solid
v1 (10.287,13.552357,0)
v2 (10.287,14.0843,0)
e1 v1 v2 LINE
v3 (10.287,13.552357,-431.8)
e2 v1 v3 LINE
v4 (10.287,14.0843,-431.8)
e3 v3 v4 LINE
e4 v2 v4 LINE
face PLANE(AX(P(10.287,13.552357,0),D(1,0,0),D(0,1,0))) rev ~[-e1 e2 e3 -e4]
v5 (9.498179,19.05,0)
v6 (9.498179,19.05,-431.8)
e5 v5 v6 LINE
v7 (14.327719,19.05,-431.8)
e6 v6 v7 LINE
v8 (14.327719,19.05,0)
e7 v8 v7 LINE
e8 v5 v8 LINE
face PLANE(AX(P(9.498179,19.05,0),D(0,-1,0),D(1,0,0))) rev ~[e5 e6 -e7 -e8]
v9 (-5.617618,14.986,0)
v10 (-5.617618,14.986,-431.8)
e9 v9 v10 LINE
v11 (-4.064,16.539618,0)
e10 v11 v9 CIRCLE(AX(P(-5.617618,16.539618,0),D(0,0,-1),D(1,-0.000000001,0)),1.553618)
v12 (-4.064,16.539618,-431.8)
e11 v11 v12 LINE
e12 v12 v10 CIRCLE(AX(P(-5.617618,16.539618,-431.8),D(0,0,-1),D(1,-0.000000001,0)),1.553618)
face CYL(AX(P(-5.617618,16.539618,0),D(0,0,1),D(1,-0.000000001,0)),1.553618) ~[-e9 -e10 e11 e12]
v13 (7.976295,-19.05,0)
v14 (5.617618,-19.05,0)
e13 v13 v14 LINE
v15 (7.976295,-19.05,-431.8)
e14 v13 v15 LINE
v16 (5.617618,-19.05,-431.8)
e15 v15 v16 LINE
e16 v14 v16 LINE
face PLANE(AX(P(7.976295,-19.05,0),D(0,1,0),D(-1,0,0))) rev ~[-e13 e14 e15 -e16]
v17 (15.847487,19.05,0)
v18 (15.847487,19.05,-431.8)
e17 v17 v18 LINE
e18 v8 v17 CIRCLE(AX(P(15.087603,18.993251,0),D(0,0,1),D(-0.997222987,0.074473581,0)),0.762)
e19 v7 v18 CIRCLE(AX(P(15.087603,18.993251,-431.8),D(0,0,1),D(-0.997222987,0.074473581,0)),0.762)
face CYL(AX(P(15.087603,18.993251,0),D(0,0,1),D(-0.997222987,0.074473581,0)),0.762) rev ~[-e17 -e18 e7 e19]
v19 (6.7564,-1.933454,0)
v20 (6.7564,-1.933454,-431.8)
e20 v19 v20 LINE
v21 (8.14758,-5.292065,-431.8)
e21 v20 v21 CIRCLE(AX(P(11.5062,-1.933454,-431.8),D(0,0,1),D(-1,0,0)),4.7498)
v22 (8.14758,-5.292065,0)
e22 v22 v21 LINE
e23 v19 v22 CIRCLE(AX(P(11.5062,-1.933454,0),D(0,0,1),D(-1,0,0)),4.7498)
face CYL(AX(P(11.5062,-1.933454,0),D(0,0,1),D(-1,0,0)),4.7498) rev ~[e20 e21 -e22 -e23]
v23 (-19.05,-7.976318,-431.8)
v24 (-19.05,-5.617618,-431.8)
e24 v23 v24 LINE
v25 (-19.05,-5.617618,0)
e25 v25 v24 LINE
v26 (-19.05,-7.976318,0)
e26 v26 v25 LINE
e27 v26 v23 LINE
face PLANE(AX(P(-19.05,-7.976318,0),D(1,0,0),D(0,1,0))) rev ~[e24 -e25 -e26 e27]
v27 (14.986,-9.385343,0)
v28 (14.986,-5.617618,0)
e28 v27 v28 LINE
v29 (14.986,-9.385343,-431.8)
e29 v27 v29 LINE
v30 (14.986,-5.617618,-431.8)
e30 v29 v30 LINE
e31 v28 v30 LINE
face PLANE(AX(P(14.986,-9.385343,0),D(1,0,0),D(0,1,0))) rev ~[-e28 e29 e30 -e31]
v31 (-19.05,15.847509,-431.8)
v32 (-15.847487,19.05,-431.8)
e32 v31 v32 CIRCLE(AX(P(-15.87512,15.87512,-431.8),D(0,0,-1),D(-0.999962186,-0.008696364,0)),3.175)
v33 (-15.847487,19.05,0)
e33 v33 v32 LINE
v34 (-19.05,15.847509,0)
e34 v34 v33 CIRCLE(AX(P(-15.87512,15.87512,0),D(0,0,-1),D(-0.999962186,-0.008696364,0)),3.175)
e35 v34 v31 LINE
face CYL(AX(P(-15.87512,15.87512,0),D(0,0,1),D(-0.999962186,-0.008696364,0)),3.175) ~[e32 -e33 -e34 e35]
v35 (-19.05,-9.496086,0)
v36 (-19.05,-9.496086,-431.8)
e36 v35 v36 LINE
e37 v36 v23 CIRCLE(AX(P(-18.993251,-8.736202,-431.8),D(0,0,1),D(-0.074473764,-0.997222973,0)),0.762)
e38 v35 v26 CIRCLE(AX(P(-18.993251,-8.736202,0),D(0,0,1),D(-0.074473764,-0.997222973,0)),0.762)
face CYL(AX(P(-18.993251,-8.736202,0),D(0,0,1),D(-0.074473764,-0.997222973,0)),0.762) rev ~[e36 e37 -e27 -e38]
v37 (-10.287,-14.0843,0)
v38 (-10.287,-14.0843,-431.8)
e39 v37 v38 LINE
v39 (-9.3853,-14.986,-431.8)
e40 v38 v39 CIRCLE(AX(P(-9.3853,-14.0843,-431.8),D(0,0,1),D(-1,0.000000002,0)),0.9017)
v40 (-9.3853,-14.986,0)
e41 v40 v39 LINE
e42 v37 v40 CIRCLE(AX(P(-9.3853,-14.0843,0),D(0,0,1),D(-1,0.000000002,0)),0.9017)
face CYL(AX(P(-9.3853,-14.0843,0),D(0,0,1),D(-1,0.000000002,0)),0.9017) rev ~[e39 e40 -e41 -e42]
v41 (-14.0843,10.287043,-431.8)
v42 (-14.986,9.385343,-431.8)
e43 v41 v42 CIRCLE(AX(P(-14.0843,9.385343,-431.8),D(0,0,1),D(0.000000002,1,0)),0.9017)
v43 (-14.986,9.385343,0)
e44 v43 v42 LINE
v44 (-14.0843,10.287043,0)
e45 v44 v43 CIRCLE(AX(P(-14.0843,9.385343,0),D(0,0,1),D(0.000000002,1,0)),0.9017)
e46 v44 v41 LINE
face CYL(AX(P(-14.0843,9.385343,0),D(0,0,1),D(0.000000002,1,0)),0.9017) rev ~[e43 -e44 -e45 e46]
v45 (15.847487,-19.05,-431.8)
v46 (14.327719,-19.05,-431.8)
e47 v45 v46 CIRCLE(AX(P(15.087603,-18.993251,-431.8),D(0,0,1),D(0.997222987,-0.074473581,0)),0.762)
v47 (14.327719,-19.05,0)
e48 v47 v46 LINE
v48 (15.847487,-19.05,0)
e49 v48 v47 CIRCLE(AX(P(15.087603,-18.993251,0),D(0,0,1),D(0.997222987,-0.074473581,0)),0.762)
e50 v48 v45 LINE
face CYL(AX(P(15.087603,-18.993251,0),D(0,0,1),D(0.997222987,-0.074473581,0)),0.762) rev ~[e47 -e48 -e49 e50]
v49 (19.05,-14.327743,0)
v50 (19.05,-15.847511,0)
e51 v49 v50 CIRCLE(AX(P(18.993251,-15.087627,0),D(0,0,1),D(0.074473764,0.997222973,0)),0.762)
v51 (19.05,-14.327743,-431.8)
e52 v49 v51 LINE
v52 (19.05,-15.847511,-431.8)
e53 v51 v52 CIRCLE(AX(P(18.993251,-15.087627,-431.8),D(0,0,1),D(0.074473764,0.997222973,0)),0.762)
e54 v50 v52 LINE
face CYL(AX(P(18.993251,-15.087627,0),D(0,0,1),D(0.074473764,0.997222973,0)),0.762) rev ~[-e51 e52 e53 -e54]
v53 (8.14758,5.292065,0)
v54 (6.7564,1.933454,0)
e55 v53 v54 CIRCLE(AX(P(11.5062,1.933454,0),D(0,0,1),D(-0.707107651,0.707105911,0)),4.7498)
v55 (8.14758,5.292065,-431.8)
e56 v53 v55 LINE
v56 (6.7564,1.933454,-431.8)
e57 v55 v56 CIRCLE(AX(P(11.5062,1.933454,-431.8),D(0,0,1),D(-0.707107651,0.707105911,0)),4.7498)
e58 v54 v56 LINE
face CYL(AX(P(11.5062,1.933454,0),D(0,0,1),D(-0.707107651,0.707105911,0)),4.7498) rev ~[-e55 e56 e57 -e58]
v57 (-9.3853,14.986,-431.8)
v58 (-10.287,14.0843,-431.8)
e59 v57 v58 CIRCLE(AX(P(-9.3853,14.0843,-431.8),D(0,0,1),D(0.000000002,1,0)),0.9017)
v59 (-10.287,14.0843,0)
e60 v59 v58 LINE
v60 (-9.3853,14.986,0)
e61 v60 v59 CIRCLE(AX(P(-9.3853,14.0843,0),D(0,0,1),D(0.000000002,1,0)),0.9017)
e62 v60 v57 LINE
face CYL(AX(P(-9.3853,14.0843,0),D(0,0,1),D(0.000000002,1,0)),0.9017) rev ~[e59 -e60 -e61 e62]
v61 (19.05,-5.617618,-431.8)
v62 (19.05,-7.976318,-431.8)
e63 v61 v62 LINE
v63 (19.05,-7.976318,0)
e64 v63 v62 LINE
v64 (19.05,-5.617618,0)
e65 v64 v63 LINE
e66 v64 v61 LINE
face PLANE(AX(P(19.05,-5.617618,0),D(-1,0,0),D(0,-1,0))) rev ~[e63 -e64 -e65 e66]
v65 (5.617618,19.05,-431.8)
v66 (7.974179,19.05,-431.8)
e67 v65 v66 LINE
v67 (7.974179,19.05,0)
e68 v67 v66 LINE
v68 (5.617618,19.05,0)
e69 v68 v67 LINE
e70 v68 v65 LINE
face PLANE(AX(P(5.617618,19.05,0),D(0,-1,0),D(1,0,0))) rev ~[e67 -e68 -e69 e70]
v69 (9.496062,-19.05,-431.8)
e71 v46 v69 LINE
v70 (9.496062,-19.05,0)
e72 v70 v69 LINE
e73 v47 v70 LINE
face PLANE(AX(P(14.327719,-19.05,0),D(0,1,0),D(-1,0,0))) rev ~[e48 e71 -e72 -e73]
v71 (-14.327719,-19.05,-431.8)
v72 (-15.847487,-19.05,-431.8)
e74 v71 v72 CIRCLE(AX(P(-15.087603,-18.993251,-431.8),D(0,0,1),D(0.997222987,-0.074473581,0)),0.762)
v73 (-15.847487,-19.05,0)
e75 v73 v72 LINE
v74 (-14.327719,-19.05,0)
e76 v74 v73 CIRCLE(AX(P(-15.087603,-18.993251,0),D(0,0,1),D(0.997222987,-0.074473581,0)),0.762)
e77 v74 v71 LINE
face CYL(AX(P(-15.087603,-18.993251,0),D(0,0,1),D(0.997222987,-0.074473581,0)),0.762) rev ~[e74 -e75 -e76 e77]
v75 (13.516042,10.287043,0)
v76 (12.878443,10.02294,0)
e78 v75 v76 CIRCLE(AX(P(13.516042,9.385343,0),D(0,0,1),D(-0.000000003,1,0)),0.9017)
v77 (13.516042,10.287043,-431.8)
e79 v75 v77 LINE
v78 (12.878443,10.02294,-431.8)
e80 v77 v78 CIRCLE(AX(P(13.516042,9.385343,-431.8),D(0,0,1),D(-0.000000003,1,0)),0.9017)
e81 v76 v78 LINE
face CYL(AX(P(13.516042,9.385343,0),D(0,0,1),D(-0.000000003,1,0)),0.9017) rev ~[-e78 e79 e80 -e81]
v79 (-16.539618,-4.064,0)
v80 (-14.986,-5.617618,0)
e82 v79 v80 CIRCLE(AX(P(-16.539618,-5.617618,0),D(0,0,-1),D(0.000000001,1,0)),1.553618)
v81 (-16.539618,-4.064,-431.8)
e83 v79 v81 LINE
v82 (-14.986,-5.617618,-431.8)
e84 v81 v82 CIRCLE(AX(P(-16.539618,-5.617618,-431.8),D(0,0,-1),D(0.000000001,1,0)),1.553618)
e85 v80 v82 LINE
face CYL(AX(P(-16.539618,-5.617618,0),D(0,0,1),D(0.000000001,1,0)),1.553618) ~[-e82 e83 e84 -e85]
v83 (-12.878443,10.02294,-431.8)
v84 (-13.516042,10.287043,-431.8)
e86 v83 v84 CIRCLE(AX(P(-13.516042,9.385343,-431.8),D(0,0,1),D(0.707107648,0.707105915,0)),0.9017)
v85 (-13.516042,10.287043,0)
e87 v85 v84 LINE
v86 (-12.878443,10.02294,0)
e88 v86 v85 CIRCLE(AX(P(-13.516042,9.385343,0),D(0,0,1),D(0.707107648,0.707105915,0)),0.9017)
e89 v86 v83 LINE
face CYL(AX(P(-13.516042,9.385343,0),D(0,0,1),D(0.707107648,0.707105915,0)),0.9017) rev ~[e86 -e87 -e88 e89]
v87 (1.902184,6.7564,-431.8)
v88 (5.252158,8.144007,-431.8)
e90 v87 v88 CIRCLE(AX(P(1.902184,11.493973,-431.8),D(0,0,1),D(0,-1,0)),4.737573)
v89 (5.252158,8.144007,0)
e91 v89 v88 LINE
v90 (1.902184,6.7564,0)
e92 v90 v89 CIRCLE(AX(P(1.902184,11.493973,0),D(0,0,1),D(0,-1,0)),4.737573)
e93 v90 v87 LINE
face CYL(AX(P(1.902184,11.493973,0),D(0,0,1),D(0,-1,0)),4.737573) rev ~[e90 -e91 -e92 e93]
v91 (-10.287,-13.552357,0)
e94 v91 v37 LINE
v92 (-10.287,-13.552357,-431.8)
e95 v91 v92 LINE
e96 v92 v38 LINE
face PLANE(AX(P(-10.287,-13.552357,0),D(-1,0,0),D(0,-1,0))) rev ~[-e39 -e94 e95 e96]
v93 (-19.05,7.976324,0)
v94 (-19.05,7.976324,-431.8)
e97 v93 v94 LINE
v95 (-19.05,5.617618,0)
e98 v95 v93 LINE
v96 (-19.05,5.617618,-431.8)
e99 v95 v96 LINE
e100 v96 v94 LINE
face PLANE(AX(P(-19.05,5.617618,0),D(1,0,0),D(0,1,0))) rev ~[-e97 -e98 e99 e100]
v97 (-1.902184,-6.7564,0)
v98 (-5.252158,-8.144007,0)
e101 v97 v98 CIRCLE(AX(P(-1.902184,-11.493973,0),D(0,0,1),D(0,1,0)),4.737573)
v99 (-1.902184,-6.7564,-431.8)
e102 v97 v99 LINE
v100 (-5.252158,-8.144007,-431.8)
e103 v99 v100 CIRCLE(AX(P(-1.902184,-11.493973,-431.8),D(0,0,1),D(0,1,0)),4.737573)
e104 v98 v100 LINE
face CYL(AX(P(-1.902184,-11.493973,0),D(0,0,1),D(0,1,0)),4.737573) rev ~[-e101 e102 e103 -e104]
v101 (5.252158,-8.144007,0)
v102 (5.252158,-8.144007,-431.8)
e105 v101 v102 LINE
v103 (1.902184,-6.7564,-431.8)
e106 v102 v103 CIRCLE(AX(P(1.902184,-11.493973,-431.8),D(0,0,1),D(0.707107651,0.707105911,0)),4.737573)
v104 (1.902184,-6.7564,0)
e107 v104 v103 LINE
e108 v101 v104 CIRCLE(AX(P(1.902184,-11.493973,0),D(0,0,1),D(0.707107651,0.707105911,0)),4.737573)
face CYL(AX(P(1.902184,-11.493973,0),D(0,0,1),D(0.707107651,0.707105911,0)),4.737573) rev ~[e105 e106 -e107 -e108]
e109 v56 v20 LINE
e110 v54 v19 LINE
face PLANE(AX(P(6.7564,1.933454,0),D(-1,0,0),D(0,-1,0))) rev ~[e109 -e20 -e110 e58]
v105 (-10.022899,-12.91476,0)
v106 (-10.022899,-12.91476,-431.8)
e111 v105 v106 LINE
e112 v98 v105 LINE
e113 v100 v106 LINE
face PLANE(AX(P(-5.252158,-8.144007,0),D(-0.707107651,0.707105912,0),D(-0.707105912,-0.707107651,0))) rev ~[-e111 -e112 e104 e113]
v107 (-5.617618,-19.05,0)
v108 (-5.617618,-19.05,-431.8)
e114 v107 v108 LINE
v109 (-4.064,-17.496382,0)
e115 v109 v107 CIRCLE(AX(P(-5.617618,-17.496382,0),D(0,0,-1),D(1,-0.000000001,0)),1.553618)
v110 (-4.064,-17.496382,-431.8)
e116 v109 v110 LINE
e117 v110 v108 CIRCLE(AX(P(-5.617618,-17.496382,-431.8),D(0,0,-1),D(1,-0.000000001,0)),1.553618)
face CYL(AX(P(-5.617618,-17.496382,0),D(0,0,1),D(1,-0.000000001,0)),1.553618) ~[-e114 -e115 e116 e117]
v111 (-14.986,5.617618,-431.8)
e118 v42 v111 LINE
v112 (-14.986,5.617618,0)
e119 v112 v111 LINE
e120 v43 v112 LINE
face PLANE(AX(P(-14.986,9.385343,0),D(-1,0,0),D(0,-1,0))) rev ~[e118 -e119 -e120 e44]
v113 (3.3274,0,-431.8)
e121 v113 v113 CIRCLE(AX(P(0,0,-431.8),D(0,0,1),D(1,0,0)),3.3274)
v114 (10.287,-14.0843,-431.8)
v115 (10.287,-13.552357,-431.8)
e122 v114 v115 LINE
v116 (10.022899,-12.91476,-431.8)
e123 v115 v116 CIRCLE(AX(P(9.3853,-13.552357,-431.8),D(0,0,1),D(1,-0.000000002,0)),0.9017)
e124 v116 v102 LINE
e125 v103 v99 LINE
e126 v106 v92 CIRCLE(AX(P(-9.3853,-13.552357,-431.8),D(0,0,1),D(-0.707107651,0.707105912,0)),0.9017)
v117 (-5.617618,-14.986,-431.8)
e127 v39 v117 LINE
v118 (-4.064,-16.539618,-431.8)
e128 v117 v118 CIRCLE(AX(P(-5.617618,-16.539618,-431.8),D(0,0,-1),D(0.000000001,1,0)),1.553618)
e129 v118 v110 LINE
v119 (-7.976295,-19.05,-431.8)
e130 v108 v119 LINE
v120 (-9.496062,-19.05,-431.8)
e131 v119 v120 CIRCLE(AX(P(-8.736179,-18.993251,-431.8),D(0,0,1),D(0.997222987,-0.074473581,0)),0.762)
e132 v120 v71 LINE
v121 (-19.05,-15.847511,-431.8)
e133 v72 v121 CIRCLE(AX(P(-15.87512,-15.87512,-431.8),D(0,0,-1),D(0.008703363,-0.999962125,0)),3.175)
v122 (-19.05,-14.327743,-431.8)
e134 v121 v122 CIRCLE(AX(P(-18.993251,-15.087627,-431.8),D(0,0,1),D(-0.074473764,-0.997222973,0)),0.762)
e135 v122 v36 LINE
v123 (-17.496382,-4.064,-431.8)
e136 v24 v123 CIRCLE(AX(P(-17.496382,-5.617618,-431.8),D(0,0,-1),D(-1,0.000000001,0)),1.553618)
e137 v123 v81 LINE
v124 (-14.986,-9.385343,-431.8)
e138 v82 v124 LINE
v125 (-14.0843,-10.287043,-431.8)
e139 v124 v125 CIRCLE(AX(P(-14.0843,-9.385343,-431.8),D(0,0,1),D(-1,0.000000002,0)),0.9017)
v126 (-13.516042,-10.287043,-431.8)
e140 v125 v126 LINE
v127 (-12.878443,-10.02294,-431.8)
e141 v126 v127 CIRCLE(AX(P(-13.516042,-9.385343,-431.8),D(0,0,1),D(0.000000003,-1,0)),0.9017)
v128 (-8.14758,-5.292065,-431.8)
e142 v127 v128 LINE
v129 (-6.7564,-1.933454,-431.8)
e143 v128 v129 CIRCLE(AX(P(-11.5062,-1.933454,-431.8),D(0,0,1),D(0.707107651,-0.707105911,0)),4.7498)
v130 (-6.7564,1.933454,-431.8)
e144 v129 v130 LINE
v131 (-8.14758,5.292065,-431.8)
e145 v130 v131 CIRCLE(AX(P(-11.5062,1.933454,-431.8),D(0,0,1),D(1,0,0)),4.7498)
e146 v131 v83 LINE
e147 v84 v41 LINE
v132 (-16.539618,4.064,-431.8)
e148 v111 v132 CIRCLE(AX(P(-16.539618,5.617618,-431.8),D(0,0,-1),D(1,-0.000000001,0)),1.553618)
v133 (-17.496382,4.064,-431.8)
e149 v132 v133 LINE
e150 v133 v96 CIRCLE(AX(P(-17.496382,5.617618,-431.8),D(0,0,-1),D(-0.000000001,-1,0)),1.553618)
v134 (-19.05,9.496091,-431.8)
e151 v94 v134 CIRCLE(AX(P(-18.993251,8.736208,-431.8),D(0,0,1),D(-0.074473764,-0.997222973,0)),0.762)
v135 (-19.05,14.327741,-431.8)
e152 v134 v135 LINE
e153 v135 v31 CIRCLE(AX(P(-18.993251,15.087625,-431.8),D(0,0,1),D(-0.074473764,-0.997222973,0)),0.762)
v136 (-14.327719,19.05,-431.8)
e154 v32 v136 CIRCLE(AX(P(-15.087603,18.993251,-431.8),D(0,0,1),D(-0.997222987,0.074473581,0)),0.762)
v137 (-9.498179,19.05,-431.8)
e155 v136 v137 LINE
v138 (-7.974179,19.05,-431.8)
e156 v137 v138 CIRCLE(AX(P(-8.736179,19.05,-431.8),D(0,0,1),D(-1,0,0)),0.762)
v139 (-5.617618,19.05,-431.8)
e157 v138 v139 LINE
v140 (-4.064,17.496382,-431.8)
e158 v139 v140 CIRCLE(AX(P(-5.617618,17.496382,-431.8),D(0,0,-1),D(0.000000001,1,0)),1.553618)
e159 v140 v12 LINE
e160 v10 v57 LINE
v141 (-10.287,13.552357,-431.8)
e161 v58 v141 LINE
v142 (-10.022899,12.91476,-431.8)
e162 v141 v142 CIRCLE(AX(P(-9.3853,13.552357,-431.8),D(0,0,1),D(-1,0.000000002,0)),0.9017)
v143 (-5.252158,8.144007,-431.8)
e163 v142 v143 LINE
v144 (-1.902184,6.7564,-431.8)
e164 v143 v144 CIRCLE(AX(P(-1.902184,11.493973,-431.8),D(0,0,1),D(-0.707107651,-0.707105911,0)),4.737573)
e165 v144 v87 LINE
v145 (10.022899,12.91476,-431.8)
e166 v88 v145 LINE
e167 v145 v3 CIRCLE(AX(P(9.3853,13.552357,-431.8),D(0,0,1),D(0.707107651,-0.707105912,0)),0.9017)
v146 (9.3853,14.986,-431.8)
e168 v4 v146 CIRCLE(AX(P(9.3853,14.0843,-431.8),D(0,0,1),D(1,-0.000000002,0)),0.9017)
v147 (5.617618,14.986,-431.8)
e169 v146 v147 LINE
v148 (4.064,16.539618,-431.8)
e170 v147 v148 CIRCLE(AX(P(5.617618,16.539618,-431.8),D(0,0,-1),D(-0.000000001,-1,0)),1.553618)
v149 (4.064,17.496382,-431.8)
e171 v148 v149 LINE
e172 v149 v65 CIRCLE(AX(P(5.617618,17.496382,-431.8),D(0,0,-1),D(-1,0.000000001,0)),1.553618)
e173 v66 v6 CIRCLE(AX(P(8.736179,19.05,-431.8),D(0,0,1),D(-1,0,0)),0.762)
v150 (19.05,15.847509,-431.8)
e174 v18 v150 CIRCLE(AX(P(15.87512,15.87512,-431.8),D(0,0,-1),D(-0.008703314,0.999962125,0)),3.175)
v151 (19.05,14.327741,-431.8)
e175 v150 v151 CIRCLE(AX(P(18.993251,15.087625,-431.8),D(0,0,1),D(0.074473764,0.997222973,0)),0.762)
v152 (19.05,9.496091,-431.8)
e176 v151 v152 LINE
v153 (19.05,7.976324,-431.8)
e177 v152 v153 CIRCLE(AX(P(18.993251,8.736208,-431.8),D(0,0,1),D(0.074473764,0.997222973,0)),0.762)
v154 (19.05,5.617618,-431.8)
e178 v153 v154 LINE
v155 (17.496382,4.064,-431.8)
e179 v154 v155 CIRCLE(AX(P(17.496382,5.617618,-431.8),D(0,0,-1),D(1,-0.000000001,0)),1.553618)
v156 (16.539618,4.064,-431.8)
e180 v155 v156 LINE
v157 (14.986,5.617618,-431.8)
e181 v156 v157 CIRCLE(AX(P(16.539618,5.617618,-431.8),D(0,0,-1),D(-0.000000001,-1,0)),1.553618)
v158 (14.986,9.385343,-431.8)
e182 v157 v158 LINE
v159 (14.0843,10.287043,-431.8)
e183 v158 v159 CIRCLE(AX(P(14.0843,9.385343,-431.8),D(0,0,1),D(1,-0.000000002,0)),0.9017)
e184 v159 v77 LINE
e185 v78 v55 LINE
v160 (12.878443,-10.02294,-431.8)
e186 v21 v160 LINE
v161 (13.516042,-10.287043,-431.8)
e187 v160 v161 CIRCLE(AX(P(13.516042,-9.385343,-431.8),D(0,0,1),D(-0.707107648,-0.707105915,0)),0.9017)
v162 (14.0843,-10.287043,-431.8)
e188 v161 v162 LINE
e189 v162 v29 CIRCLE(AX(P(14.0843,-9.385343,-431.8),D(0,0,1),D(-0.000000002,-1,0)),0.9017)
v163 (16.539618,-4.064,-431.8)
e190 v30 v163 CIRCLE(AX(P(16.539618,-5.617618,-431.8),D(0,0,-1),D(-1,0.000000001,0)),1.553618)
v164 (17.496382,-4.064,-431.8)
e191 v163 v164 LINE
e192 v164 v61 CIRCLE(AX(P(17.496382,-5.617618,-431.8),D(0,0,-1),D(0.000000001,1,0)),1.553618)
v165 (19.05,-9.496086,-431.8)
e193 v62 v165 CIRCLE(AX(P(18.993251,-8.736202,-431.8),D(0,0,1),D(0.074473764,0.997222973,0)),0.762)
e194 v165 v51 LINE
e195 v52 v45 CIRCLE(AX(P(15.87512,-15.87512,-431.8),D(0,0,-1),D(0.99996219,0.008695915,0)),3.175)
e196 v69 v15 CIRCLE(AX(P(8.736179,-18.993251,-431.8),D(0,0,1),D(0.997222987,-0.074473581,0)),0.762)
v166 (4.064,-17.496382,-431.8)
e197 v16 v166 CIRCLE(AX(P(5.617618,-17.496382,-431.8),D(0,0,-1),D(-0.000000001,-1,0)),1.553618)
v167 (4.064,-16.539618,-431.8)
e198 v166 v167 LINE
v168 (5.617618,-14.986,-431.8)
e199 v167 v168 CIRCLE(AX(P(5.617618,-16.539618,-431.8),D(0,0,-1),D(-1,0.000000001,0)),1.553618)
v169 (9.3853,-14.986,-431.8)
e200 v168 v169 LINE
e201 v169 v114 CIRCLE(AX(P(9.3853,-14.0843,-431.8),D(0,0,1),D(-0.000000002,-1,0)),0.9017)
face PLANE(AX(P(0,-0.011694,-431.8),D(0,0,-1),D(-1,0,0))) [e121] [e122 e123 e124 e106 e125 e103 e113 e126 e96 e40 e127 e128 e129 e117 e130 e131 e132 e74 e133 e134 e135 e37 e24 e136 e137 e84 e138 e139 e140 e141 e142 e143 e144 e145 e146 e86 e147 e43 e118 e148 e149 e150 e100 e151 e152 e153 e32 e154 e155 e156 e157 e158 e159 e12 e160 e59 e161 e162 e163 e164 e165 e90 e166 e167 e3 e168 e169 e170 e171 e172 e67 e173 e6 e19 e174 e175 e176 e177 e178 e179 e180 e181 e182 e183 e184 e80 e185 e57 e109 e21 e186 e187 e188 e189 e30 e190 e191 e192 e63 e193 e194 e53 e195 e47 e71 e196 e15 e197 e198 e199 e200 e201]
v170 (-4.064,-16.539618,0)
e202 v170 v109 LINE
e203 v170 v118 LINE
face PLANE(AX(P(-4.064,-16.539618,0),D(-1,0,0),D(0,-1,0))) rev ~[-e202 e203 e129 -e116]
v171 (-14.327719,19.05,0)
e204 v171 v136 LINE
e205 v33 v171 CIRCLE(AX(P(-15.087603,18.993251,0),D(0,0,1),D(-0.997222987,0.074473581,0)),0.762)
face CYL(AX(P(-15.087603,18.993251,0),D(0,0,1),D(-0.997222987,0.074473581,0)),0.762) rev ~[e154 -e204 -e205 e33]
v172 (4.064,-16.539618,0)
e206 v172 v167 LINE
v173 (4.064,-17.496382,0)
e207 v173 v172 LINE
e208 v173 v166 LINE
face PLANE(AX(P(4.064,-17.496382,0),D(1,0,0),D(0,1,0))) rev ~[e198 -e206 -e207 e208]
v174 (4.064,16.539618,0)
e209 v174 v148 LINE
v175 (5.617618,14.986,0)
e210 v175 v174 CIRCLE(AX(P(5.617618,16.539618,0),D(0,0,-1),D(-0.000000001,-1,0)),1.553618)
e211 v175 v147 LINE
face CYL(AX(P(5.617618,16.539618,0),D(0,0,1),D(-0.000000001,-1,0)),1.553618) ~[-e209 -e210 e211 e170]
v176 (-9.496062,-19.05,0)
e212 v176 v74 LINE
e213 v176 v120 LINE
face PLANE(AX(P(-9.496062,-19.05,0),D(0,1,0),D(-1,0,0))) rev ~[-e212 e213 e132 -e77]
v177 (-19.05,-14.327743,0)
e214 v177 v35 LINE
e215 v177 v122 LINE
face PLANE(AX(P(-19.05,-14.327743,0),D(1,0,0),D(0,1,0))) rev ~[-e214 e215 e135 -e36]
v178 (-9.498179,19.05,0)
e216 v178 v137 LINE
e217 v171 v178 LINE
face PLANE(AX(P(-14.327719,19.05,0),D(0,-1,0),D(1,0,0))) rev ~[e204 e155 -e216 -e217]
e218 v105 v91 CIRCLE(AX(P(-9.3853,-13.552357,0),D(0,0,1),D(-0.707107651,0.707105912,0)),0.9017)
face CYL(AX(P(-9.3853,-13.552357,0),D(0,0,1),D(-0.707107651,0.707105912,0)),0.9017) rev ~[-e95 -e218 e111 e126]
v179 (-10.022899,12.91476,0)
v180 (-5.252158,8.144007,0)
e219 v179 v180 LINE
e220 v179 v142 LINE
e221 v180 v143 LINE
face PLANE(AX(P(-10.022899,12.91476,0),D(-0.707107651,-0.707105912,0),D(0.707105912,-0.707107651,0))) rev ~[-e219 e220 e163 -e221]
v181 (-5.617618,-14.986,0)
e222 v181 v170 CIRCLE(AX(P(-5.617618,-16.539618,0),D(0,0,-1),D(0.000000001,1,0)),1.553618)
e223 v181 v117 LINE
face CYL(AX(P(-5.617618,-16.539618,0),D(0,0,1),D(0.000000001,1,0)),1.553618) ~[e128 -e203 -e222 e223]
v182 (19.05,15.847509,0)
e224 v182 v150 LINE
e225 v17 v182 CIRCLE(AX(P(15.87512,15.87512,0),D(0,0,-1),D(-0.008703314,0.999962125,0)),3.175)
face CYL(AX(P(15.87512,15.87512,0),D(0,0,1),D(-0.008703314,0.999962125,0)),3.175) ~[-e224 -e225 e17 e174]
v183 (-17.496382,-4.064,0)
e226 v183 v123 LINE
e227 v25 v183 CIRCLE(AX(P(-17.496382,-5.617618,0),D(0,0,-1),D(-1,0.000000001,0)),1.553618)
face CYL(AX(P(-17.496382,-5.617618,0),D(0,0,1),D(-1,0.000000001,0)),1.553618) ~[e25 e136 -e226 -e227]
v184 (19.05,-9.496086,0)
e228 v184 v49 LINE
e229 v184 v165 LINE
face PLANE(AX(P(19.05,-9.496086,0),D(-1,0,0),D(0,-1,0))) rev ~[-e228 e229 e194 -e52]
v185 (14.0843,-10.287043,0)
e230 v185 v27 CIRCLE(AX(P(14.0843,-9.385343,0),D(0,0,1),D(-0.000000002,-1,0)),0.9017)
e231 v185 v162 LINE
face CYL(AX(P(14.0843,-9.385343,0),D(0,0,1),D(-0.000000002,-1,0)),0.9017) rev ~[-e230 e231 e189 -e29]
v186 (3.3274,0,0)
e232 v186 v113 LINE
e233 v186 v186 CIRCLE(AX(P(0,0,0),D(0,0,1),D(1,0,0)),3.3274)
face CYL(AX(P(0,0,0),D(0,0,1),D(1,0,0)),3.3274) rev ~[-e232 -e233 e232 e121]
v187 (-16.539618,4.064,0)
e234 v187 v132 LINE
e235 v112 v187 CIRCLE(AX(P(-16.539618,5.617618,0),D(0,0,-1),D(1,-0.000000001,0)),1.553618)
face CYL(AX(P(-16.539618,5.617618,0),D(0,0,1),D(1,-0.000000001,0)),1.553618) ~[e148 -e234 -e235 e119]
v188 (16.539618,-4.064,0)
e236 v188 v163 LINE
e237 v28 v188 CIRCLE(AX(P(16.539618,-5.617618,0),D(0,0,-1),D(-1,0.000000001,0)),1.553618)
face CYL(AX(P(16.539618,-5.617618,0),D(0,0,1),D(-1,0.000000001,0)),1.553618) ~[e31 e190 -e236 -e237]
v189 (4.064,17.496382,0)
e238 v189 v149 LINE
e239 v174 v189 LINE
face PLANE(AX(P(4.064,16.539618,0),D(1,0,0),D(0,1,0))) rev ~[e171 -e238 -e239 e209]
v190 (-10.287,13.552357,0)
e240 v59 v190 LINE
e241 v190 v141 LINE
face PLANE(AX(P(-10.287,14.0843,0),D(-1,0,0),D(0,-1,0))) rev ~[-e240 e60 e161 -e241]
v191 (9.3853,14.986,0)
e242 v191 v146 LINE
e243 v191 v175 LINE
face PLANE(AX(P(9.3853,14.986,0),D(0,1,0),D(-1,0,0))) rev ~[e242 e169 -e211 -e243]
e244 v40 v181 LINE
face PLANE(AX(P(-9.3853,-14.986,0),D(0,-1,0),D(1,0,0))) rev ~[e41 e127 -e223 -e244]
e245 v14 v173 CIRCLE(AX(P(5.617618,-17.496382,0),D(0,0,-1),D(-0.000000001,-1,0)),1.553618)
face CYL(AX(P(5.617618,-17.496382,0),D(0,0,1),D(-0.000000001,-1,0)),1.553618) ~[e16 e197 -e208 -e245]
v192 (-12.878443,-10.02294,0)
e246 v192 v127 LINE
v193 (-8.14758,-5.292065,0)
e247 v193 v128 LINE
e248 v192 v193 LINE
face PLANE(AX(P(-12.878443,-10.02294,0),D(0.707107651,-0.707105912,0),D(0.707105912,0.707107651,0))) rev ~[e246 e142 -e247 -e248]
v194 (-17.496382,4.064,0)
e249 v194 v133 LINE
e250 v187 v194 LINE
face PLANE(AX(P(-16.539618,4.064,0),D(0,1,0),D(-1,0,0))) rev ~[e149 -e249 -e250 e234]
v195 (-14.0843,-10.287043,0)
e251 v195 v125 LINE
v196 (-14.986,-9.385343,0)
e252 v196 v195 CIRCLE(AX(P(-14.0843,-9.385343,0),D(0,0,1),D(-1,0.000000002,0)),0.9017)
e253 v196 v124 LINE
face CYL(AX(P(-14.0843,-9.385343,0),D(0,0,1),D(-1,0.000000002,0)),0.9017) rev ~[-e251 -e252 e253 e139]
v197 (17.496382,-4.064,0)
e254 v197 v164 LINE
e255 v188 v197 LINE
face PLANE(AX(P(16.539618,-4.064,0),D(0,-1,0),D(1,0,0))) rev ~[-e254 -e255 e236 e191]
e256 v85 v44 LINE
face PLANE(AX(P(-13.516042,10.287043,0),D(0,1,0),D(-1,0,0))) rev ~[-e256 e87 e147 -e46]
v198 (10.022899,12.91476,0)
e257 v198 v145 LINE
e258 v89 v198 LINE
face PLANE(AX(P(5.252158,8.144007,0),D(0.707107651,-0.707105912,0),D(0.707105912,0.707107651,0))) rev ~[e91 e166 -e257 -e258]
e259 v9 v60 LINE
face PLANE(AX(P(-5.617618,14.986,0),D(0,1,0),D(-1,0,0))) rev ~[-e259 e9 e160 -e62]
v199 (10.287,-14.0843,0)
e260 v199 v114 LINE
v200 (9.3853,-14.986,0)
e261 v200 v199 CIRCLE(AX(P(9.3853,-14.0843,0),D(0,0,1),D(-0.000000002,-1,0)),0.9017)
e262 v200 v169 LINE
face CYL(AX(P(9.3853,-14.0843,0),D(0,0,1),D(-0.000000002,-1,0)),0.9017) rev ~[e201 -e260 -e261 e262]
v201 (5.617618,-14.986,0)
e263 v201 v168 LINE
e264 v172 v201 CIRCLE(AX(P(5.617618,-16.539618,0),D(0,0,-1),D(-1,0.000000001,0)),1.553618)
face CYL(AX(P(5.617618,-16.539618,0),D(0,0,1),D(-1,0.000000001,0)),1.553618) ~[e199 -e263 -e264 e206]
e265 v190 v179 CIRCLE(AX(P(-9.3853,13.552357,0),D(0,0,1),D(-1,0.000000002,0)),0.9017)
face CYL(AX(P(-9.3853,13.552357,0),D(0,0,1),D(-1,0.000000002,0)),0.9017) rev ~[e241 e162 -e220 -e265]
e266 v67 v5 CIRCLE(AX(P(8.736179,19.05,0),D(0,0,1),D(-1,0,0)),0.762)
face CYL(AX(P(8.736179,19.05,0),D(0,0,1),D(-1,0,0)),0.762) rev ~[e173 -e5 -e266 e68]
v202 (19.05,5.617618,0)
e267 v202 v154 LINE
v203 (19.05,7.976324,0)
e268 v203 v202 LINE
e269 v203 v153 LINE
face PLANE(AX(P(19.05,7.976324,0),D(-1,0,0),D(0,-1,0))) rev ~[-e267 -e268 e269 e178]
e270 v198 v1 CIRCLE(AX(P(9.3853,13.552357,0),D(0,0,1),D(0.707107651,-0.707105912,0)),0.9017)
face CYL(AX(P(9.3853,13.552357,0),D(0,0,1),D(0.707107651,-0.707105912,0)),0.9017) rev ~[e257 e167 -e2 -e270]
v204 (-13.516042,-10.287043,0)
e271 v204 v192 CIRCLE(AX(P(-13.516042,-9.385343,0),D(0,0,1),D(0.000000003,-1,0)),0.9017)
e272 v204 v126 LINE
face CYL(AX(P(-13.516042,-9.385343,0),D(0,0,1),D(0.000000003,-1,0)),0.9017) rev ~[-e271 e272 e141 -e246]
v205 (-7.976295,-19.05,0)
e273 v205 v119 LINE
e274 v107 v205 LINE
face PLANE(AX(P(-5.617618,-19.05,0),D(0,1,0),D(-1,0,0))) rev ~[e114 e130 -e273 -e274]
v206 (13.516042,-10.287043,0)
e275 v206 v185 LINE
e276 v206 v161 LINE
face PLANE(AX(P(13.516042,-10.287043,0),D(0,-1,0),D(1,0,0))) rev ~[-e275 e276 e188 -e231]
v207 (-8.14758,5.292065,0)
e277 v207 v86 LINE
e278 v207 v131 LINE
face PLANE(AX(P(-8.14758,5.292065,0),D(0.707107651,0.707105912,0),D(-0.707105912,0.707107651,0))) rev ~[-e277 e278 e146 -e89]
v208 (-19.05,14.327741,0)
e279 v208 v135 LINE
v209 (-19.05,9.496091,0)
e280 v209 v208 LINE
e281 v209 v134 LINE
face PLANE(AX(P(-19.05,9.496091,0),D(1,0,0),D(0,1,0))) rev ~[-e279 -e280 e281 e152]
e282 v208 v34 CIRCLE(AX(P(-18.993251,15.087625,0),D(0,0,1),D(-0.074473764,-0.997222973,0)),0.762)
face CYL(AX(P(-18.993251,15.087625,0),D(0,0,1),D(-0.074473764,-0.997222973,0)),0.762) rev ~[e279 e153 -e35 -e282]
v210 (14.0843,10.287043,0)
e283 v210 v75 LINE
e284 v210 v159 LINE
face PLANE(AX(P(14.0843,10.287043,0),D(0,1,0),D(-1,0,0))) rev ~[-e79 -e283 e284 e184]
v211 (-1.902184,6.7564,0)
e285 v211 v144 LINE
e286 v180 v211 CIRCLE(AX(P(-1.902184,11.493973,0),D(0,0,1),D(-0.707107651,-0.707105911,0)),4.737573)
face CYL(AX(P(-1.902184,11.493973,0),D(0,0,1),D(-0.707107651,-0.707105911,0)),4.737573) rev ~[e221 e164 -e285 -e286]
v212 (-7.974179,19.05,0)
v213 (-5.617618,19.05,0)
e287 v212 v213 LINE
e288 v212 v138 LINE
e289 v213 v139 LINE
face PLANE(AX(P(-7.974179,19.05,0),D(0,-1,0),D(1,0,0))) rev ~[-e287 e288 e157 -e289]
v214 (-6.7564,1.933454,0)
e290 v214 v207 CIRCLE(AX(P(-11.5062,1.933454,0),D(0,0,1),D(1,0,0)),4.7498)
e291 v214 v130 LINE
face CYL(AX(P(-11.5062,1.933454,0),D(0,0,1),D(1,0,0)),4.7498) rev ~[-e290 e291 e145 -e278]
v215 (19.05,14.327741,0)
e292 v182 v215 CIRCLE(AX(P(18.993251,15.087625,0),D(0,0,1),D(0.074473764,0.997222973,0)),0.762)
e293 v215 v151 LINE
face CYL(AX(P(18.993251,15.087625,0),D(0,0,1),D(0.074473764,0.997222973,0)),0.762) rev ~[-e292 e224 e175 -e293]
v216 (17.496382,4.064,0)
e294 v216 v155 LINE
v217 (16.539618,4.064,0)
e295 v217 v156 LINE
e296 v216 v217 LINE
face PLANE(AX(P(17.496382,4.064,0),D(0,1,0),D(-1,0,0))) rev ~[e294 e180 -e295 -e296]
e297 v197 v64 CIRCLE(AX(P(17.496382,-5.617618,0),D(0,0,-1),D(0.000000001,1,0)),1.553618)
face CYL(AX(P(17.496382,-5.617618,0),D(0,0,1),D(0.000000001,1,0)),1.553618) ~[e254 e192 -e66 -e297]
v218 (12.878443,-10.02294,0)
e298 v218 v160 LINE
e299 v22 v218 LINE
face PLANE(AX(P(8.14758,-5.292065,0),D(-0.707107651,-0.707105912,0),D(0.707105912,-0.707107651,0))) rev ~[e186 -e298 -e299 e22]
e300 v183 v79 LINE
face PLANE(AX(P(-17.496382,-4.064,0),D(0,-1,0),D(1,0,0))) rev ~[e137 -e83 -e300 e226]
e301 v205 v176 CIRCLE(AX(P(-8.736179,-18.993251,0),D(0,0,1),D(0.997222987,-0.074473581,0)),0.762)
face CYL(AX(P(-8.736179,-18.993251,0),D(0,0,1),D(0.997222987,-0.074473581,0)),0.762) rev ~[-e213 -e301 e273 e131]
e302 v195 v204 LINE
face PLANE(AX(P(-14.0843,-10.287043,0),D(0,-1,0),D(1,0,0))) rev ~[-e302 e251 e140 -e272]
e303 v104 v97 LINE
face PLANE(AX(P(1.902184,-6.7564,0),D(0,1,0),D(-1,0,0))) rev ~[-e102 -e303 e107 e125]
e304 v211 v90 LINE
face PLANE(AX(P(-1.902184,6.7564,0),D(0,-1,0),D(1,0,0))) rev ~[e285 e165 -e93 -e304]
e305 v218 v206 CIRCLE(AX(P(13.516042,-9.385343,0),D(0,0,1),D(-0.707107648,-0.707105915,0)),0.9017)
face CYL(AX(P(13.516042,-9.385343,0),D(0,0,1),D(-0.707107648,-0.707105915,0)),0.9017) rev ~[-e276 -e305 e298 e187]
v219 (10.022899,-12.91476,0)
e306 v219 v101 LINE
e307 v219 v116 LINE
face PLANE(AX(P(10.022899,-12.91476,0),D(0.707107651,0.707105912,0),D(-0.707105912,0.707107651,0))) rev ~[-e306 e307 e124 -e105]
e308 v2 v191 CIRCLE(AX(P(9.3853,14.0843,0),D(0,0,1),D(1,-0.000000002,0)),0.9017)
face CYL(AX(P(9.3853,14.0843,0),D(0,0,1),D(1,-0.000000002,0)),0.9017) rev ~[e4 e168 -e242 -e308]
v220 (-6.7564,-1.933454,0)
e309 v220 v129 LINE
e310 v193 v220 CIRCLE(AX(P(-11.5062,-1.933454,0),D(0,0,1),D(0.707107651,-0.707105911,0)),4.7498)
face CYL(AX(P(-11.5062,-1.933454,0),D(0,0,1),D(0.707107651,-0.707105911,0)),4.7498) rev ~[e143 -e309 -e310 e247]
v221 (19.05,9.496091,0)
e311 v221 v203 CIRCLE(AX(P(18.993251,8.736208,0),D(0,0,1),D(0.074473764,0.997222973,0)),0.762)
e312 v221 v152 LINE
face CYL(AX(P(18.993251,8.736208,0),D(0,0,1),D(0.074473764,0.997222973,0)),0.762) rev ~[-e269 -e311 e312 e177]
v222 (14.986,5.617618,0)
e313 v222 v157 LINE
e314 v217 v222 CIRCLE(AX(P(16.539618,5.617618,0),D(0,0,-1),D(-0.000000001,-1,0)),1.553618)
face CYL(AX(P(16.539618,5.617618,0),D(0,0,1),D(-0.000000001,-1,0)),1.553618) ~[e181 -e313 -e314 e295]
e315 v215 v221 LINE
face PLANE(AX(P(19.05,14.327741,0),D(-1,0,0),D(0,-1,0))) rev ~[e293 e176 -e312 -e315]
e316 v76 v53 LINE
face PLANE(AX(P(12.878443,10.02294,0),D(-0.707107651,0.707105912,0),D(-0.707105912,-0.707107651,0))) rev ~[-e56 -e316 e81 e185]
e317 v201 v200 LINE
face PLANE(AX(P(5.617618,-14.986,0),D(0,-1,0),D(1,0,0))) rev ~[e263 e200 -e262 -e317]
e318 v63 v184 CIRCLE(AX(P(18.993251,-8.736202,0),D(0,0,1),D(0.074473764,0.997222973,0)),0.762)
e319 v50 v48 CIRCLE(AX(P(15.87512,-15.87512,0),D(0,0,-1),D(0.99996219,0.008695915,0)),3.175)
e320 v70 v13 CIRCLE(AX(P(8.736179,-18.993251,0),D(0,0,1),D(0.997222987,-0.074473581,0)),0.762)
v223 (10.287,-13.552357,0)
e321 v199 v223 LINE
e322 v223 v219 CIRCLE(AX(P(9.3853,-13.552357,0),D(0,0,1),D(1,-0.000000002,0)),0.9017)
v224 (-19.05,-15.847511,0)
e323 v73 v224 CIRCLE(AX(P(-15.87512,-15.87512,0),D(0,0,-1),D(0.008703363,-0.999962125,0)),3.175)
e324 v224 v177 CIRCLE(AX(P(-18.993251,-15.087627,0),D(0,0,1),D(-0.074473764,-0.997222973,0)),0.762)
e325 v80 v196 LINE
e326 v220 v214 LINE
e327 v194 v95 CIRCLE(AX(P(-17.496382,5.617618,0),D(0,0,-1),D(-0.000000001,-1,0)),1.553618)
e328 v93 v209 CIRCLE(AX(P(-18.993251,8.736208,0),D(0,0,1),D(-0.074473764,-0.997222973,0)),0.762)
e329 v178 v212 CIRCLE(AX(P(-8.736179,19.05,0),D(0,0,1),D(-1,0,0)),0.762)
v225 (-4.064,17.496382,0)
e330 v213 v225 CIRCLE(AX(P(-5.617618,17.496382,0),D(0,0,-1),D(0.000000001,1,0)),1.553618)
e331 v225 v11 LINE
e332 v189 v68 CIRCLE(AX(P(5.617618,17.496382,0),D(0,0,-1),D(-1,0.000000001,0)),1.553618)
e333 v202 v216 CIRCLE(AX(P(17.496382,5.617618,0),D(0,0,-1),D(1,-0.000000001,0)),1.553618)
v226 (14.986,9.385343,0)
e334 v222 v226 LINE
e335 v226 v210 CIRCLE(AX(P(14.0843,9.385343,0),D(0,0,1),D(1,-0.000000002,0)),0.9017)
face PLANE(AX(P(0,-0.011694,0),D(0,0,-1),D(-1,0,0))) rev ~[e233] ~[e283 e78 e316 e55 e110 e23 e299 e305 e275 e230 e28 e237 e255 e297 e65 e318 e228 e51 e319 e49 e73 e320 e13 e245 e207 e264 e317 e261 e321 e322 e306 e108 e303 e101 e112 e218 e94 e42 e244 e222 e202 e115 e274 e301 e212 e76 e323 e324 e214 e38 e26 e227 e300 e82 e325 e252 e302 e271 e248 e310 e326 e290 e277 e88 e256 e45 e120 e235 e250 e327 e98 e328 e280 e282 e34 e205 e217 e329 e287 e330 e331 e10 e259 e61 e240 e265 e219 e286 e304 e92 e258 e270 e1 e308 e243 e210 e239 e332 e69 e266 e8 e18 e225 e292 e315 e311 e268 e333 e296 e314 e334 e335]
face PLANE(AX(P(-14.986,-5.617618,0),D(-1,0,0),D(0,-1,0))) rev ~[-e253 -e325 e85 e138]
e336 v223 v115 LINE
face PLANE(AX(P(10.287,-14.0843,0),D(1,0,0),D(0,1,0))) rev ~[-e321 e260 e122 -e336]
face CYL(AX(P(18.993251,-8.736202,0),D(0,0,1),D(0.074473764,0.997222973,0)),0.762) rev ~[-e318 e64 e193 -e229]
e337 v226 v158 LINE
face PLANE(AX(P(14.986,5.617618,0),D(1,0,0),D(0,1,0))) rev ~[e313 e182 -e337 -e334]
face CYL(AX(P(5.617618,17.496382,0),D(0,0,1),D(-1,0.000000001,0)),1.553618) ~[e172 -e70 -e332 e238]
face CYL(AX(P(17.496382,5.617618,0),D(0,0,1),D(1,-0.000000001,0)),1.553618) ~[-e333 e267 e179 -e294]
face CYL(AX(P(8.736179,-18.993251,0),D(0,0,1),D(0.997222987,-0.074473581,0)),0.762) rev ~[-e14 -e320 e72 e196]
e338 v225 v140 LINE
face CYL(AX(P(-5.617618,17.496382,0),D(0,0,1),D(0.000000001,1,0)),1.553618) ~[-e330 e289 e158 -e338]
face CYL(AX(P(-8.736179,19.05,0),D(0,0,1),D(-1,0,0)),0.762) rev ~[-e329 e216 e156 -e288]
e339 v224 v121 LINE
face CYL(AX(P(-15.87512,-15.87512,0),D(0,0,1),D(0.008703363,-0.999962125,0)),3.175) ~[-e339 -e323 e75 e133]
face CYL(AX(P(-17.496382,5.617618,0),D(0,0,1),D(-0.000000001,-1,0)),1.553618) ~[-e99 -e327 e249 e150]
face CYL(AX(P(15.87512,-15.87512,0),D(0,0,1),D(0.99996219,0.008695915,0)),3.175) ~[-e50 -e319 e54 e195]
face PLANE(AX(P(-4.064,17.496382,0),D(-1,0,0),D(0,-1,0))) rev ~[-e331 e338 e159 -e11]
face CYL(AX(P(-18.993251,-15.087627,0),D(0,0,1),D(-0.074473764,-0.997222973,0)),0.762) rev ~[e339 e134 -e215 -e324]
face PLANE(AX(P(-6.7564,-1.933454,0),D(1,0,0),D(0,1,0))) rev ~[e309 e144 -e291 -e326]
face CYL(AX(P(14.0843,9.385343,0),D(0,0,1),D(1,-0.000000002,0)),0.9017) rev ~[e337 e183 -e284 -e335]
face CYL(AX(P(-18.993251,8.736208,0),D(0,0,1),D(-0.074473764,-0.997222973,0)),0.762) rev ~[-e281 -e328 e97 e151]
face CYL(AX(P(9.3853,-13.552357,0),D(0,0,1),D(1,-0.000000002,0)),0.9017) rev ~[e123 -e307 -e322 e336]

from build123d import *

# Parameters (mm, degrees)
SKETCH1_R      = 3.3274
EXTRUDE1_DEPTH = 431.8


with BuildPart() as part:
    # Sketch1 → Extrude1 (new body)
    with BuildSketch(Plane.XY):
        with BuildLine():
            Line((-10.022898969, 12.91475973), (-5.252158105, 8.144007132))
            ThreePointArc((-5.252158105, 8.144007132), (-3.715177372, 7.117027388), (-1.902183975, 6.7564))
            Line((-1.902183975, 6.7564), (1.902183975, 6.7564))
            ThreePointArc((1.902183975, 6.7564), (3.715177372, 7.117027388), (5.252158105, 8.144007132))
            Line((5.252158105, 8.144007132), (10.022898969, 12.91475973))
            ThreePointArc((10.022898969, 12.91475973), (10.218362387, 13.207291992), (10.287, 13.552357131))
            Line((10.287, 13.552357131), (10.287, 14.0843))
            ThreePointArc((10.287, 14.0843), (10.022898185, 14.721898185), (9.3853, 14.986))
            Line((9.3853, 14.986), (5.617617549, 14.986))
            ThreePointArc((5.617617549, 14.986), (4.519044045, 15.441044045), (4.064, 16.539617549))
            Line((4.064, 16.539617549), (4.064, 17.496382451))
            ThreePointArc((4.064, 17.496382451), (4.519044045, 18.594955955), (5.617617549, 19.05))
            Line((5.617617549, 19.05), (7.974178704, 19.05))
            ThreePointArc((7.974178704, 19.05), (8.736178704, 18.288), (9.498178704, 19.05))
            Line((9.498178704, 19.05), (14.327719207, 19.05))
            ThreePointArc((14.327719207, 19.05), (15.087603123, 18.231251131), (15.847487039, 19.05))
            ThreePointArc((15.847487039, 19.05), (18.120176289, 18.120192083), (19.05, 15.847509295))
            ThreePointArc((19.05, 15.847509295), (18.231250992, 15.08762539), (19.05, 14.327741484))
            Line((19.05, 14.327741484), (19.05, 9.496091471))
            ThreePointArc((19.05, 9.496091471), (18.231250992, 8.736207565), (19.05, 7.97632366))
            Line((19.05, 7.97632366), (19.05, 5.617617549))
            ThreePointArc((19.05, 5.617617549), (18.594955955, 4.519044045), (17.496382451, 4.064))
            Line((17.496382451, 4.064), (16.539617549, 4.064))
            ThreePointArc((16.539617549, 4.064), (15.441044045, 4.519044045), (14.986, 5.617617549))
            Line((14.986, 5.617617549), (14.986, 9.385342516))
            ThreePointArc((14.986, 9.385342516), (14.721898185, 10.022940701), (14.0843, 10.287042516))
            Line((14.0843, 10.287042516), (13.516042086, 10.287042516))
            ThreePointArc((13.516042086, 10.287042516), (13.170975923, 10.218404478), (12.878443117, 10.022939917))
            Line((12.878443117, 10.022939917), (8.14758008, 5.292065243))
            ThreePointArc((8.14758008, 5.292065243), (7.117955879, 3.751120653), (6.7564, 1.933453584))
            Line((6.7564, 1.933453584), (6.7564, -1.933453584))
            ThreePointArc((6.7564, -1.933453584), (7.117955879, -3.751120653), (8.14758008, -5.292065243))
            Line((8.14758008, -5.292065243), (12.878443117, -10.022939917))
            ThreePointArc((12.878443117, -10.022939917), (13.170975923, -10.218404478), (13.516042086, -10.287042516))
            Line((13.516042086, -10.287042516), (14.0843, -10.287042516))
            ThreePointArc((14.0843, -10.287042516), (14.721898185, -10.022940701), (14.986, -9.385342516))
            Line((14.986, -9.385342516), (14.986, -5.617617549))
            ThreePointArc((14.986, -5.617617549), (15.441044045, -4.519044045), (16.539617549, -4.064))
            Line((16.539617549, -4.064), (17.496382451, -4.064))
            ThreePointArc((17.496382451, -4.064), (18.594955955, -4.519044045), (19.05, -5.617617549))
            Line((19.05, -5.617617549), (19.05, -7.976318491))
            ThreePointArc((19.05, -7.976318491), (18.231250992, -8.736202396), (19.05, -9.496086302))
            Line((19.05, -9.496086302), (19.05, -14.32774291))
            ThreePointArc((19.05, -14.32774291), (18.231250992, -15.087626816), (19.05, -15.847510721))
            ThreePointArc((19.05, -15.847510721), (18.120175716, -18.120192644), (15.847486868, -19.05))
            ThreePointArc((15.847486868, -19.05), (15.087602952, -18.231251131), (14.327719036, -19.05))
            Line((14.327719036, -19.05), (9.496062448, -19.05))
            ThreePointArc((9.496062448, -19.05), (8.736178532, -18.231251131), (7.976294616, -19.05))
            Line((7.976294616, -19.05), (5.617617549, -19.05))
            ThreePointArc((5.617617549, -19.05), (4.519044045, -18.594955955), (4.064, -17.496382451))
            Line((4.064, -17.496382451), (4.064, -16.539617549))
            ThreePointArc((4.064, -16.539617549), (4.519044045, -15.441044045), (5.617617549, -14.986))
            Line((5.617617549, -14.986), (9.3853, -14.986))
            ThreePointArc((9.3853, -14.986), (10.022898185, -14.721898185), (10.287, -14.0843))
            Line((10.287, -14.0843), (10.287, -13.552357131))
            ThreePointArc((10.287, -13.552357131), (10.218362387, -13.207291992), (10.022898969, -12.91475973))
            Line((10.022898969, -12.91475973), (5.252158105, -8.144007132))
            ThreePointArc((5.252158105, -8.144007132), (3.715177372, -7.117027388), (1.902183975, -6.7564))
            Line((1.902183975, -6.7564), (-1.902183975, -6.7564))
            ThreePointArc((-1.902183975, -6.7564), (-3.715177372, -7.117027388), (-5.252158105, -8.144007132))
            Line((-5.252158105, -8.144007132), (-10.022898969, -12.91475973))
            ThreePointArc((-10.022898969, -12.91475973), (-10.218362387, -13.207291992), (-10.287, -13.552357131))
            Line((-10.287, -13.552357131), (-10.287, -14.0843))
            ThreePointArc((-10.287, -14.0843), (-10.022898185, -14.721898185), (-9.3853, -14.986))
            Line((-9.3853, -14.986), (-5.617617549, -14.986))
            ThreePointArc((-5.617617549, -14.986), (-4.519044045, -15.441044045), (-4.064, -16.539617549))
            Line((-4.064, -16.539617549), (-4.064, -17.496382451))
            ThreePointArc((-4.064, -17.496382451), (-4.519044045, -18.594955955), (-5.617617549, -19.05))
            Line((-5.617617549, -19.05), (-7.976294616, -19.05))
            ThreePointArc((-7.976294616, -19.05), (-8.736178532, -18.231251131), (-9.496062448, -19.05))
            Line((-9.496062448, -19.05), (-14.327719036, -19.05))
            ThreePointArc((-14.327719036, -19.05), (-15.087602952, -18.231251131), (-15.847486868, -19.05))
            ThreePointArc((-15.847486868, -19.05), (-18.120175716, -18.120192644), (-19.05, -15.847510721))
            ThreePointArc((-19.05, -15.847510721), (-18.231250992, -15.087626816), (-19.05, -14.32774291))
            Line((-19.05, -14.32774291), (-19.05, -9.496086302))
            ThreePointArc((-19.05, -9.496086302), (-18.231250992, -8.736202396), (-19.05, -7.976318491))
            Line((-19.05, -7.976318491), (-19.05, -5.617617549))
            ThreePointArc((-19.05, -5.617617549), (-18.594955955, -4.519044045), (-17.496382451, -4.064))
            Line((-17.496382451, -4.064), (-16.539617549, -4.064))
            ThreePointArc((-16.539617549, -4.064), (-15.441044045, -4.519044045), (-14.986, -5.617617549))
            Line((-14.986, -5.617617549), (-14.986, -9.385342516))
            ThreePointArc((-14.986, -9.385342516), (-14.721898185, -10.022940701), (-14.0843, -10.287042516))
            Line((-14.0843, -10.287042516), (-13.516042086, -10.287042516))
            ThreePointArc((-13.516042086, -10.287042516), (-13.170975923, -10.218404478), (-12.878443117, -10.022939917))
            Line((-12.878443117, -10.022939917), (-8.14758008, -5.292065243))
            ThreePointArc((-8.14758008, -5.292065243), (-7.117955879, -3.751120653), (-6.7564, -1.933453584))
            Line((-6.7564, -1.933453584), (-6.7564, 1.933453584))
            ThreePointArc((-6.7564, 1.933453584), (-7.117955879, 3.751120653), (-8.14758008, 5.292065243))
            Line((-8.14758008, 5.292065243), (-12.878443117, 10.022939917))
            ThreePointArc((-12.878443117, 10.022939917), (-13.170975923, 10.218404478), (-13.516042086, 10.287042516))
            Line((-13.516042086, 10.287042516), (-14.0843, 10.287042516))
            ThreePointArc((-14.0843, 10.287042516), (-14.721898185, 10.022940701), (-14.986, 9.385342516))
            Line((-14.986, 9.385342516), (-14.986, 5.617617549))
            ThreePointArc((-14.986, 5.617617549), (-15.441044045, 4.519044045), (-16.539617549, 4.064))
            Line((-16.539617549, 4.064), (-17.496382451, 4.064))
            ThreePointArc((-17.496382451, 4.064), (-18.594955955, 4.519044045), (-19.05, 5.617617549))
            Line((-19.05, 5.617617549), (-19.05, 7.97632366))
            ThreePointArc((-19.05, 7.97632366), (-18.231250992, 8.736207565), (-19.05, 9.496091471))
            Line((-19.05, 9.496091471), (-19.05, 14.327741484))
            ThreePointArc((-19.05, 14.327741484), (-18.231250992, 15.08762539), (-19.05, 15.847509295))
            ThreePointArc((-19.05, 15.847509295), (-18.120176289, 18.120192083), (-15.847487039, 19.05))
            ThreePointArc((-15.847487039, 19.05), (-15.087603123, 18.231251131), (-14.327719207, 19.05))
            Line((-14.327719207, 19.05), (-9.498178704, 19.05))
            ThreePointArc((-9.498178704, 19.05), (-8.736178704, 18.288), (-7.974178704, 19.05))
            Line((-7.974178704, 19.05), (-5.617617549, 19.05))
            ThreePointArc((-5.617617549, 19.05), (-4.519044045, 18.594955955), (-4.064, 17.496382451))
            Line((-4.064, 17.496382451), (-4.064, 16.539617549))
            ThreePointArc((-4.064, 16.539617549), (-4.519044045, 15.441044045), (-5.617617549, 14.986))
            Line((-5.617617549, 14.986), (-9.3853, 14.986))
            ThreePointArc((-9.3853, 14.986), (-10.022898185, 14.721898185), (-10.287, 14.0843))
            Line((-10.287, 14.0843), (-10.287, 13.552357131))
            ThreePointArc((-10.287, 13.552357131), (-10.218362387, 13.207291992), (-10.022898969, 12.91475973))
        make_face()
        Circle(SKETCH1_R, mode=Mode.SUBTRACT)
    extrude(amount=-EXTRUDE1_DEPTH)


solid = part.part
